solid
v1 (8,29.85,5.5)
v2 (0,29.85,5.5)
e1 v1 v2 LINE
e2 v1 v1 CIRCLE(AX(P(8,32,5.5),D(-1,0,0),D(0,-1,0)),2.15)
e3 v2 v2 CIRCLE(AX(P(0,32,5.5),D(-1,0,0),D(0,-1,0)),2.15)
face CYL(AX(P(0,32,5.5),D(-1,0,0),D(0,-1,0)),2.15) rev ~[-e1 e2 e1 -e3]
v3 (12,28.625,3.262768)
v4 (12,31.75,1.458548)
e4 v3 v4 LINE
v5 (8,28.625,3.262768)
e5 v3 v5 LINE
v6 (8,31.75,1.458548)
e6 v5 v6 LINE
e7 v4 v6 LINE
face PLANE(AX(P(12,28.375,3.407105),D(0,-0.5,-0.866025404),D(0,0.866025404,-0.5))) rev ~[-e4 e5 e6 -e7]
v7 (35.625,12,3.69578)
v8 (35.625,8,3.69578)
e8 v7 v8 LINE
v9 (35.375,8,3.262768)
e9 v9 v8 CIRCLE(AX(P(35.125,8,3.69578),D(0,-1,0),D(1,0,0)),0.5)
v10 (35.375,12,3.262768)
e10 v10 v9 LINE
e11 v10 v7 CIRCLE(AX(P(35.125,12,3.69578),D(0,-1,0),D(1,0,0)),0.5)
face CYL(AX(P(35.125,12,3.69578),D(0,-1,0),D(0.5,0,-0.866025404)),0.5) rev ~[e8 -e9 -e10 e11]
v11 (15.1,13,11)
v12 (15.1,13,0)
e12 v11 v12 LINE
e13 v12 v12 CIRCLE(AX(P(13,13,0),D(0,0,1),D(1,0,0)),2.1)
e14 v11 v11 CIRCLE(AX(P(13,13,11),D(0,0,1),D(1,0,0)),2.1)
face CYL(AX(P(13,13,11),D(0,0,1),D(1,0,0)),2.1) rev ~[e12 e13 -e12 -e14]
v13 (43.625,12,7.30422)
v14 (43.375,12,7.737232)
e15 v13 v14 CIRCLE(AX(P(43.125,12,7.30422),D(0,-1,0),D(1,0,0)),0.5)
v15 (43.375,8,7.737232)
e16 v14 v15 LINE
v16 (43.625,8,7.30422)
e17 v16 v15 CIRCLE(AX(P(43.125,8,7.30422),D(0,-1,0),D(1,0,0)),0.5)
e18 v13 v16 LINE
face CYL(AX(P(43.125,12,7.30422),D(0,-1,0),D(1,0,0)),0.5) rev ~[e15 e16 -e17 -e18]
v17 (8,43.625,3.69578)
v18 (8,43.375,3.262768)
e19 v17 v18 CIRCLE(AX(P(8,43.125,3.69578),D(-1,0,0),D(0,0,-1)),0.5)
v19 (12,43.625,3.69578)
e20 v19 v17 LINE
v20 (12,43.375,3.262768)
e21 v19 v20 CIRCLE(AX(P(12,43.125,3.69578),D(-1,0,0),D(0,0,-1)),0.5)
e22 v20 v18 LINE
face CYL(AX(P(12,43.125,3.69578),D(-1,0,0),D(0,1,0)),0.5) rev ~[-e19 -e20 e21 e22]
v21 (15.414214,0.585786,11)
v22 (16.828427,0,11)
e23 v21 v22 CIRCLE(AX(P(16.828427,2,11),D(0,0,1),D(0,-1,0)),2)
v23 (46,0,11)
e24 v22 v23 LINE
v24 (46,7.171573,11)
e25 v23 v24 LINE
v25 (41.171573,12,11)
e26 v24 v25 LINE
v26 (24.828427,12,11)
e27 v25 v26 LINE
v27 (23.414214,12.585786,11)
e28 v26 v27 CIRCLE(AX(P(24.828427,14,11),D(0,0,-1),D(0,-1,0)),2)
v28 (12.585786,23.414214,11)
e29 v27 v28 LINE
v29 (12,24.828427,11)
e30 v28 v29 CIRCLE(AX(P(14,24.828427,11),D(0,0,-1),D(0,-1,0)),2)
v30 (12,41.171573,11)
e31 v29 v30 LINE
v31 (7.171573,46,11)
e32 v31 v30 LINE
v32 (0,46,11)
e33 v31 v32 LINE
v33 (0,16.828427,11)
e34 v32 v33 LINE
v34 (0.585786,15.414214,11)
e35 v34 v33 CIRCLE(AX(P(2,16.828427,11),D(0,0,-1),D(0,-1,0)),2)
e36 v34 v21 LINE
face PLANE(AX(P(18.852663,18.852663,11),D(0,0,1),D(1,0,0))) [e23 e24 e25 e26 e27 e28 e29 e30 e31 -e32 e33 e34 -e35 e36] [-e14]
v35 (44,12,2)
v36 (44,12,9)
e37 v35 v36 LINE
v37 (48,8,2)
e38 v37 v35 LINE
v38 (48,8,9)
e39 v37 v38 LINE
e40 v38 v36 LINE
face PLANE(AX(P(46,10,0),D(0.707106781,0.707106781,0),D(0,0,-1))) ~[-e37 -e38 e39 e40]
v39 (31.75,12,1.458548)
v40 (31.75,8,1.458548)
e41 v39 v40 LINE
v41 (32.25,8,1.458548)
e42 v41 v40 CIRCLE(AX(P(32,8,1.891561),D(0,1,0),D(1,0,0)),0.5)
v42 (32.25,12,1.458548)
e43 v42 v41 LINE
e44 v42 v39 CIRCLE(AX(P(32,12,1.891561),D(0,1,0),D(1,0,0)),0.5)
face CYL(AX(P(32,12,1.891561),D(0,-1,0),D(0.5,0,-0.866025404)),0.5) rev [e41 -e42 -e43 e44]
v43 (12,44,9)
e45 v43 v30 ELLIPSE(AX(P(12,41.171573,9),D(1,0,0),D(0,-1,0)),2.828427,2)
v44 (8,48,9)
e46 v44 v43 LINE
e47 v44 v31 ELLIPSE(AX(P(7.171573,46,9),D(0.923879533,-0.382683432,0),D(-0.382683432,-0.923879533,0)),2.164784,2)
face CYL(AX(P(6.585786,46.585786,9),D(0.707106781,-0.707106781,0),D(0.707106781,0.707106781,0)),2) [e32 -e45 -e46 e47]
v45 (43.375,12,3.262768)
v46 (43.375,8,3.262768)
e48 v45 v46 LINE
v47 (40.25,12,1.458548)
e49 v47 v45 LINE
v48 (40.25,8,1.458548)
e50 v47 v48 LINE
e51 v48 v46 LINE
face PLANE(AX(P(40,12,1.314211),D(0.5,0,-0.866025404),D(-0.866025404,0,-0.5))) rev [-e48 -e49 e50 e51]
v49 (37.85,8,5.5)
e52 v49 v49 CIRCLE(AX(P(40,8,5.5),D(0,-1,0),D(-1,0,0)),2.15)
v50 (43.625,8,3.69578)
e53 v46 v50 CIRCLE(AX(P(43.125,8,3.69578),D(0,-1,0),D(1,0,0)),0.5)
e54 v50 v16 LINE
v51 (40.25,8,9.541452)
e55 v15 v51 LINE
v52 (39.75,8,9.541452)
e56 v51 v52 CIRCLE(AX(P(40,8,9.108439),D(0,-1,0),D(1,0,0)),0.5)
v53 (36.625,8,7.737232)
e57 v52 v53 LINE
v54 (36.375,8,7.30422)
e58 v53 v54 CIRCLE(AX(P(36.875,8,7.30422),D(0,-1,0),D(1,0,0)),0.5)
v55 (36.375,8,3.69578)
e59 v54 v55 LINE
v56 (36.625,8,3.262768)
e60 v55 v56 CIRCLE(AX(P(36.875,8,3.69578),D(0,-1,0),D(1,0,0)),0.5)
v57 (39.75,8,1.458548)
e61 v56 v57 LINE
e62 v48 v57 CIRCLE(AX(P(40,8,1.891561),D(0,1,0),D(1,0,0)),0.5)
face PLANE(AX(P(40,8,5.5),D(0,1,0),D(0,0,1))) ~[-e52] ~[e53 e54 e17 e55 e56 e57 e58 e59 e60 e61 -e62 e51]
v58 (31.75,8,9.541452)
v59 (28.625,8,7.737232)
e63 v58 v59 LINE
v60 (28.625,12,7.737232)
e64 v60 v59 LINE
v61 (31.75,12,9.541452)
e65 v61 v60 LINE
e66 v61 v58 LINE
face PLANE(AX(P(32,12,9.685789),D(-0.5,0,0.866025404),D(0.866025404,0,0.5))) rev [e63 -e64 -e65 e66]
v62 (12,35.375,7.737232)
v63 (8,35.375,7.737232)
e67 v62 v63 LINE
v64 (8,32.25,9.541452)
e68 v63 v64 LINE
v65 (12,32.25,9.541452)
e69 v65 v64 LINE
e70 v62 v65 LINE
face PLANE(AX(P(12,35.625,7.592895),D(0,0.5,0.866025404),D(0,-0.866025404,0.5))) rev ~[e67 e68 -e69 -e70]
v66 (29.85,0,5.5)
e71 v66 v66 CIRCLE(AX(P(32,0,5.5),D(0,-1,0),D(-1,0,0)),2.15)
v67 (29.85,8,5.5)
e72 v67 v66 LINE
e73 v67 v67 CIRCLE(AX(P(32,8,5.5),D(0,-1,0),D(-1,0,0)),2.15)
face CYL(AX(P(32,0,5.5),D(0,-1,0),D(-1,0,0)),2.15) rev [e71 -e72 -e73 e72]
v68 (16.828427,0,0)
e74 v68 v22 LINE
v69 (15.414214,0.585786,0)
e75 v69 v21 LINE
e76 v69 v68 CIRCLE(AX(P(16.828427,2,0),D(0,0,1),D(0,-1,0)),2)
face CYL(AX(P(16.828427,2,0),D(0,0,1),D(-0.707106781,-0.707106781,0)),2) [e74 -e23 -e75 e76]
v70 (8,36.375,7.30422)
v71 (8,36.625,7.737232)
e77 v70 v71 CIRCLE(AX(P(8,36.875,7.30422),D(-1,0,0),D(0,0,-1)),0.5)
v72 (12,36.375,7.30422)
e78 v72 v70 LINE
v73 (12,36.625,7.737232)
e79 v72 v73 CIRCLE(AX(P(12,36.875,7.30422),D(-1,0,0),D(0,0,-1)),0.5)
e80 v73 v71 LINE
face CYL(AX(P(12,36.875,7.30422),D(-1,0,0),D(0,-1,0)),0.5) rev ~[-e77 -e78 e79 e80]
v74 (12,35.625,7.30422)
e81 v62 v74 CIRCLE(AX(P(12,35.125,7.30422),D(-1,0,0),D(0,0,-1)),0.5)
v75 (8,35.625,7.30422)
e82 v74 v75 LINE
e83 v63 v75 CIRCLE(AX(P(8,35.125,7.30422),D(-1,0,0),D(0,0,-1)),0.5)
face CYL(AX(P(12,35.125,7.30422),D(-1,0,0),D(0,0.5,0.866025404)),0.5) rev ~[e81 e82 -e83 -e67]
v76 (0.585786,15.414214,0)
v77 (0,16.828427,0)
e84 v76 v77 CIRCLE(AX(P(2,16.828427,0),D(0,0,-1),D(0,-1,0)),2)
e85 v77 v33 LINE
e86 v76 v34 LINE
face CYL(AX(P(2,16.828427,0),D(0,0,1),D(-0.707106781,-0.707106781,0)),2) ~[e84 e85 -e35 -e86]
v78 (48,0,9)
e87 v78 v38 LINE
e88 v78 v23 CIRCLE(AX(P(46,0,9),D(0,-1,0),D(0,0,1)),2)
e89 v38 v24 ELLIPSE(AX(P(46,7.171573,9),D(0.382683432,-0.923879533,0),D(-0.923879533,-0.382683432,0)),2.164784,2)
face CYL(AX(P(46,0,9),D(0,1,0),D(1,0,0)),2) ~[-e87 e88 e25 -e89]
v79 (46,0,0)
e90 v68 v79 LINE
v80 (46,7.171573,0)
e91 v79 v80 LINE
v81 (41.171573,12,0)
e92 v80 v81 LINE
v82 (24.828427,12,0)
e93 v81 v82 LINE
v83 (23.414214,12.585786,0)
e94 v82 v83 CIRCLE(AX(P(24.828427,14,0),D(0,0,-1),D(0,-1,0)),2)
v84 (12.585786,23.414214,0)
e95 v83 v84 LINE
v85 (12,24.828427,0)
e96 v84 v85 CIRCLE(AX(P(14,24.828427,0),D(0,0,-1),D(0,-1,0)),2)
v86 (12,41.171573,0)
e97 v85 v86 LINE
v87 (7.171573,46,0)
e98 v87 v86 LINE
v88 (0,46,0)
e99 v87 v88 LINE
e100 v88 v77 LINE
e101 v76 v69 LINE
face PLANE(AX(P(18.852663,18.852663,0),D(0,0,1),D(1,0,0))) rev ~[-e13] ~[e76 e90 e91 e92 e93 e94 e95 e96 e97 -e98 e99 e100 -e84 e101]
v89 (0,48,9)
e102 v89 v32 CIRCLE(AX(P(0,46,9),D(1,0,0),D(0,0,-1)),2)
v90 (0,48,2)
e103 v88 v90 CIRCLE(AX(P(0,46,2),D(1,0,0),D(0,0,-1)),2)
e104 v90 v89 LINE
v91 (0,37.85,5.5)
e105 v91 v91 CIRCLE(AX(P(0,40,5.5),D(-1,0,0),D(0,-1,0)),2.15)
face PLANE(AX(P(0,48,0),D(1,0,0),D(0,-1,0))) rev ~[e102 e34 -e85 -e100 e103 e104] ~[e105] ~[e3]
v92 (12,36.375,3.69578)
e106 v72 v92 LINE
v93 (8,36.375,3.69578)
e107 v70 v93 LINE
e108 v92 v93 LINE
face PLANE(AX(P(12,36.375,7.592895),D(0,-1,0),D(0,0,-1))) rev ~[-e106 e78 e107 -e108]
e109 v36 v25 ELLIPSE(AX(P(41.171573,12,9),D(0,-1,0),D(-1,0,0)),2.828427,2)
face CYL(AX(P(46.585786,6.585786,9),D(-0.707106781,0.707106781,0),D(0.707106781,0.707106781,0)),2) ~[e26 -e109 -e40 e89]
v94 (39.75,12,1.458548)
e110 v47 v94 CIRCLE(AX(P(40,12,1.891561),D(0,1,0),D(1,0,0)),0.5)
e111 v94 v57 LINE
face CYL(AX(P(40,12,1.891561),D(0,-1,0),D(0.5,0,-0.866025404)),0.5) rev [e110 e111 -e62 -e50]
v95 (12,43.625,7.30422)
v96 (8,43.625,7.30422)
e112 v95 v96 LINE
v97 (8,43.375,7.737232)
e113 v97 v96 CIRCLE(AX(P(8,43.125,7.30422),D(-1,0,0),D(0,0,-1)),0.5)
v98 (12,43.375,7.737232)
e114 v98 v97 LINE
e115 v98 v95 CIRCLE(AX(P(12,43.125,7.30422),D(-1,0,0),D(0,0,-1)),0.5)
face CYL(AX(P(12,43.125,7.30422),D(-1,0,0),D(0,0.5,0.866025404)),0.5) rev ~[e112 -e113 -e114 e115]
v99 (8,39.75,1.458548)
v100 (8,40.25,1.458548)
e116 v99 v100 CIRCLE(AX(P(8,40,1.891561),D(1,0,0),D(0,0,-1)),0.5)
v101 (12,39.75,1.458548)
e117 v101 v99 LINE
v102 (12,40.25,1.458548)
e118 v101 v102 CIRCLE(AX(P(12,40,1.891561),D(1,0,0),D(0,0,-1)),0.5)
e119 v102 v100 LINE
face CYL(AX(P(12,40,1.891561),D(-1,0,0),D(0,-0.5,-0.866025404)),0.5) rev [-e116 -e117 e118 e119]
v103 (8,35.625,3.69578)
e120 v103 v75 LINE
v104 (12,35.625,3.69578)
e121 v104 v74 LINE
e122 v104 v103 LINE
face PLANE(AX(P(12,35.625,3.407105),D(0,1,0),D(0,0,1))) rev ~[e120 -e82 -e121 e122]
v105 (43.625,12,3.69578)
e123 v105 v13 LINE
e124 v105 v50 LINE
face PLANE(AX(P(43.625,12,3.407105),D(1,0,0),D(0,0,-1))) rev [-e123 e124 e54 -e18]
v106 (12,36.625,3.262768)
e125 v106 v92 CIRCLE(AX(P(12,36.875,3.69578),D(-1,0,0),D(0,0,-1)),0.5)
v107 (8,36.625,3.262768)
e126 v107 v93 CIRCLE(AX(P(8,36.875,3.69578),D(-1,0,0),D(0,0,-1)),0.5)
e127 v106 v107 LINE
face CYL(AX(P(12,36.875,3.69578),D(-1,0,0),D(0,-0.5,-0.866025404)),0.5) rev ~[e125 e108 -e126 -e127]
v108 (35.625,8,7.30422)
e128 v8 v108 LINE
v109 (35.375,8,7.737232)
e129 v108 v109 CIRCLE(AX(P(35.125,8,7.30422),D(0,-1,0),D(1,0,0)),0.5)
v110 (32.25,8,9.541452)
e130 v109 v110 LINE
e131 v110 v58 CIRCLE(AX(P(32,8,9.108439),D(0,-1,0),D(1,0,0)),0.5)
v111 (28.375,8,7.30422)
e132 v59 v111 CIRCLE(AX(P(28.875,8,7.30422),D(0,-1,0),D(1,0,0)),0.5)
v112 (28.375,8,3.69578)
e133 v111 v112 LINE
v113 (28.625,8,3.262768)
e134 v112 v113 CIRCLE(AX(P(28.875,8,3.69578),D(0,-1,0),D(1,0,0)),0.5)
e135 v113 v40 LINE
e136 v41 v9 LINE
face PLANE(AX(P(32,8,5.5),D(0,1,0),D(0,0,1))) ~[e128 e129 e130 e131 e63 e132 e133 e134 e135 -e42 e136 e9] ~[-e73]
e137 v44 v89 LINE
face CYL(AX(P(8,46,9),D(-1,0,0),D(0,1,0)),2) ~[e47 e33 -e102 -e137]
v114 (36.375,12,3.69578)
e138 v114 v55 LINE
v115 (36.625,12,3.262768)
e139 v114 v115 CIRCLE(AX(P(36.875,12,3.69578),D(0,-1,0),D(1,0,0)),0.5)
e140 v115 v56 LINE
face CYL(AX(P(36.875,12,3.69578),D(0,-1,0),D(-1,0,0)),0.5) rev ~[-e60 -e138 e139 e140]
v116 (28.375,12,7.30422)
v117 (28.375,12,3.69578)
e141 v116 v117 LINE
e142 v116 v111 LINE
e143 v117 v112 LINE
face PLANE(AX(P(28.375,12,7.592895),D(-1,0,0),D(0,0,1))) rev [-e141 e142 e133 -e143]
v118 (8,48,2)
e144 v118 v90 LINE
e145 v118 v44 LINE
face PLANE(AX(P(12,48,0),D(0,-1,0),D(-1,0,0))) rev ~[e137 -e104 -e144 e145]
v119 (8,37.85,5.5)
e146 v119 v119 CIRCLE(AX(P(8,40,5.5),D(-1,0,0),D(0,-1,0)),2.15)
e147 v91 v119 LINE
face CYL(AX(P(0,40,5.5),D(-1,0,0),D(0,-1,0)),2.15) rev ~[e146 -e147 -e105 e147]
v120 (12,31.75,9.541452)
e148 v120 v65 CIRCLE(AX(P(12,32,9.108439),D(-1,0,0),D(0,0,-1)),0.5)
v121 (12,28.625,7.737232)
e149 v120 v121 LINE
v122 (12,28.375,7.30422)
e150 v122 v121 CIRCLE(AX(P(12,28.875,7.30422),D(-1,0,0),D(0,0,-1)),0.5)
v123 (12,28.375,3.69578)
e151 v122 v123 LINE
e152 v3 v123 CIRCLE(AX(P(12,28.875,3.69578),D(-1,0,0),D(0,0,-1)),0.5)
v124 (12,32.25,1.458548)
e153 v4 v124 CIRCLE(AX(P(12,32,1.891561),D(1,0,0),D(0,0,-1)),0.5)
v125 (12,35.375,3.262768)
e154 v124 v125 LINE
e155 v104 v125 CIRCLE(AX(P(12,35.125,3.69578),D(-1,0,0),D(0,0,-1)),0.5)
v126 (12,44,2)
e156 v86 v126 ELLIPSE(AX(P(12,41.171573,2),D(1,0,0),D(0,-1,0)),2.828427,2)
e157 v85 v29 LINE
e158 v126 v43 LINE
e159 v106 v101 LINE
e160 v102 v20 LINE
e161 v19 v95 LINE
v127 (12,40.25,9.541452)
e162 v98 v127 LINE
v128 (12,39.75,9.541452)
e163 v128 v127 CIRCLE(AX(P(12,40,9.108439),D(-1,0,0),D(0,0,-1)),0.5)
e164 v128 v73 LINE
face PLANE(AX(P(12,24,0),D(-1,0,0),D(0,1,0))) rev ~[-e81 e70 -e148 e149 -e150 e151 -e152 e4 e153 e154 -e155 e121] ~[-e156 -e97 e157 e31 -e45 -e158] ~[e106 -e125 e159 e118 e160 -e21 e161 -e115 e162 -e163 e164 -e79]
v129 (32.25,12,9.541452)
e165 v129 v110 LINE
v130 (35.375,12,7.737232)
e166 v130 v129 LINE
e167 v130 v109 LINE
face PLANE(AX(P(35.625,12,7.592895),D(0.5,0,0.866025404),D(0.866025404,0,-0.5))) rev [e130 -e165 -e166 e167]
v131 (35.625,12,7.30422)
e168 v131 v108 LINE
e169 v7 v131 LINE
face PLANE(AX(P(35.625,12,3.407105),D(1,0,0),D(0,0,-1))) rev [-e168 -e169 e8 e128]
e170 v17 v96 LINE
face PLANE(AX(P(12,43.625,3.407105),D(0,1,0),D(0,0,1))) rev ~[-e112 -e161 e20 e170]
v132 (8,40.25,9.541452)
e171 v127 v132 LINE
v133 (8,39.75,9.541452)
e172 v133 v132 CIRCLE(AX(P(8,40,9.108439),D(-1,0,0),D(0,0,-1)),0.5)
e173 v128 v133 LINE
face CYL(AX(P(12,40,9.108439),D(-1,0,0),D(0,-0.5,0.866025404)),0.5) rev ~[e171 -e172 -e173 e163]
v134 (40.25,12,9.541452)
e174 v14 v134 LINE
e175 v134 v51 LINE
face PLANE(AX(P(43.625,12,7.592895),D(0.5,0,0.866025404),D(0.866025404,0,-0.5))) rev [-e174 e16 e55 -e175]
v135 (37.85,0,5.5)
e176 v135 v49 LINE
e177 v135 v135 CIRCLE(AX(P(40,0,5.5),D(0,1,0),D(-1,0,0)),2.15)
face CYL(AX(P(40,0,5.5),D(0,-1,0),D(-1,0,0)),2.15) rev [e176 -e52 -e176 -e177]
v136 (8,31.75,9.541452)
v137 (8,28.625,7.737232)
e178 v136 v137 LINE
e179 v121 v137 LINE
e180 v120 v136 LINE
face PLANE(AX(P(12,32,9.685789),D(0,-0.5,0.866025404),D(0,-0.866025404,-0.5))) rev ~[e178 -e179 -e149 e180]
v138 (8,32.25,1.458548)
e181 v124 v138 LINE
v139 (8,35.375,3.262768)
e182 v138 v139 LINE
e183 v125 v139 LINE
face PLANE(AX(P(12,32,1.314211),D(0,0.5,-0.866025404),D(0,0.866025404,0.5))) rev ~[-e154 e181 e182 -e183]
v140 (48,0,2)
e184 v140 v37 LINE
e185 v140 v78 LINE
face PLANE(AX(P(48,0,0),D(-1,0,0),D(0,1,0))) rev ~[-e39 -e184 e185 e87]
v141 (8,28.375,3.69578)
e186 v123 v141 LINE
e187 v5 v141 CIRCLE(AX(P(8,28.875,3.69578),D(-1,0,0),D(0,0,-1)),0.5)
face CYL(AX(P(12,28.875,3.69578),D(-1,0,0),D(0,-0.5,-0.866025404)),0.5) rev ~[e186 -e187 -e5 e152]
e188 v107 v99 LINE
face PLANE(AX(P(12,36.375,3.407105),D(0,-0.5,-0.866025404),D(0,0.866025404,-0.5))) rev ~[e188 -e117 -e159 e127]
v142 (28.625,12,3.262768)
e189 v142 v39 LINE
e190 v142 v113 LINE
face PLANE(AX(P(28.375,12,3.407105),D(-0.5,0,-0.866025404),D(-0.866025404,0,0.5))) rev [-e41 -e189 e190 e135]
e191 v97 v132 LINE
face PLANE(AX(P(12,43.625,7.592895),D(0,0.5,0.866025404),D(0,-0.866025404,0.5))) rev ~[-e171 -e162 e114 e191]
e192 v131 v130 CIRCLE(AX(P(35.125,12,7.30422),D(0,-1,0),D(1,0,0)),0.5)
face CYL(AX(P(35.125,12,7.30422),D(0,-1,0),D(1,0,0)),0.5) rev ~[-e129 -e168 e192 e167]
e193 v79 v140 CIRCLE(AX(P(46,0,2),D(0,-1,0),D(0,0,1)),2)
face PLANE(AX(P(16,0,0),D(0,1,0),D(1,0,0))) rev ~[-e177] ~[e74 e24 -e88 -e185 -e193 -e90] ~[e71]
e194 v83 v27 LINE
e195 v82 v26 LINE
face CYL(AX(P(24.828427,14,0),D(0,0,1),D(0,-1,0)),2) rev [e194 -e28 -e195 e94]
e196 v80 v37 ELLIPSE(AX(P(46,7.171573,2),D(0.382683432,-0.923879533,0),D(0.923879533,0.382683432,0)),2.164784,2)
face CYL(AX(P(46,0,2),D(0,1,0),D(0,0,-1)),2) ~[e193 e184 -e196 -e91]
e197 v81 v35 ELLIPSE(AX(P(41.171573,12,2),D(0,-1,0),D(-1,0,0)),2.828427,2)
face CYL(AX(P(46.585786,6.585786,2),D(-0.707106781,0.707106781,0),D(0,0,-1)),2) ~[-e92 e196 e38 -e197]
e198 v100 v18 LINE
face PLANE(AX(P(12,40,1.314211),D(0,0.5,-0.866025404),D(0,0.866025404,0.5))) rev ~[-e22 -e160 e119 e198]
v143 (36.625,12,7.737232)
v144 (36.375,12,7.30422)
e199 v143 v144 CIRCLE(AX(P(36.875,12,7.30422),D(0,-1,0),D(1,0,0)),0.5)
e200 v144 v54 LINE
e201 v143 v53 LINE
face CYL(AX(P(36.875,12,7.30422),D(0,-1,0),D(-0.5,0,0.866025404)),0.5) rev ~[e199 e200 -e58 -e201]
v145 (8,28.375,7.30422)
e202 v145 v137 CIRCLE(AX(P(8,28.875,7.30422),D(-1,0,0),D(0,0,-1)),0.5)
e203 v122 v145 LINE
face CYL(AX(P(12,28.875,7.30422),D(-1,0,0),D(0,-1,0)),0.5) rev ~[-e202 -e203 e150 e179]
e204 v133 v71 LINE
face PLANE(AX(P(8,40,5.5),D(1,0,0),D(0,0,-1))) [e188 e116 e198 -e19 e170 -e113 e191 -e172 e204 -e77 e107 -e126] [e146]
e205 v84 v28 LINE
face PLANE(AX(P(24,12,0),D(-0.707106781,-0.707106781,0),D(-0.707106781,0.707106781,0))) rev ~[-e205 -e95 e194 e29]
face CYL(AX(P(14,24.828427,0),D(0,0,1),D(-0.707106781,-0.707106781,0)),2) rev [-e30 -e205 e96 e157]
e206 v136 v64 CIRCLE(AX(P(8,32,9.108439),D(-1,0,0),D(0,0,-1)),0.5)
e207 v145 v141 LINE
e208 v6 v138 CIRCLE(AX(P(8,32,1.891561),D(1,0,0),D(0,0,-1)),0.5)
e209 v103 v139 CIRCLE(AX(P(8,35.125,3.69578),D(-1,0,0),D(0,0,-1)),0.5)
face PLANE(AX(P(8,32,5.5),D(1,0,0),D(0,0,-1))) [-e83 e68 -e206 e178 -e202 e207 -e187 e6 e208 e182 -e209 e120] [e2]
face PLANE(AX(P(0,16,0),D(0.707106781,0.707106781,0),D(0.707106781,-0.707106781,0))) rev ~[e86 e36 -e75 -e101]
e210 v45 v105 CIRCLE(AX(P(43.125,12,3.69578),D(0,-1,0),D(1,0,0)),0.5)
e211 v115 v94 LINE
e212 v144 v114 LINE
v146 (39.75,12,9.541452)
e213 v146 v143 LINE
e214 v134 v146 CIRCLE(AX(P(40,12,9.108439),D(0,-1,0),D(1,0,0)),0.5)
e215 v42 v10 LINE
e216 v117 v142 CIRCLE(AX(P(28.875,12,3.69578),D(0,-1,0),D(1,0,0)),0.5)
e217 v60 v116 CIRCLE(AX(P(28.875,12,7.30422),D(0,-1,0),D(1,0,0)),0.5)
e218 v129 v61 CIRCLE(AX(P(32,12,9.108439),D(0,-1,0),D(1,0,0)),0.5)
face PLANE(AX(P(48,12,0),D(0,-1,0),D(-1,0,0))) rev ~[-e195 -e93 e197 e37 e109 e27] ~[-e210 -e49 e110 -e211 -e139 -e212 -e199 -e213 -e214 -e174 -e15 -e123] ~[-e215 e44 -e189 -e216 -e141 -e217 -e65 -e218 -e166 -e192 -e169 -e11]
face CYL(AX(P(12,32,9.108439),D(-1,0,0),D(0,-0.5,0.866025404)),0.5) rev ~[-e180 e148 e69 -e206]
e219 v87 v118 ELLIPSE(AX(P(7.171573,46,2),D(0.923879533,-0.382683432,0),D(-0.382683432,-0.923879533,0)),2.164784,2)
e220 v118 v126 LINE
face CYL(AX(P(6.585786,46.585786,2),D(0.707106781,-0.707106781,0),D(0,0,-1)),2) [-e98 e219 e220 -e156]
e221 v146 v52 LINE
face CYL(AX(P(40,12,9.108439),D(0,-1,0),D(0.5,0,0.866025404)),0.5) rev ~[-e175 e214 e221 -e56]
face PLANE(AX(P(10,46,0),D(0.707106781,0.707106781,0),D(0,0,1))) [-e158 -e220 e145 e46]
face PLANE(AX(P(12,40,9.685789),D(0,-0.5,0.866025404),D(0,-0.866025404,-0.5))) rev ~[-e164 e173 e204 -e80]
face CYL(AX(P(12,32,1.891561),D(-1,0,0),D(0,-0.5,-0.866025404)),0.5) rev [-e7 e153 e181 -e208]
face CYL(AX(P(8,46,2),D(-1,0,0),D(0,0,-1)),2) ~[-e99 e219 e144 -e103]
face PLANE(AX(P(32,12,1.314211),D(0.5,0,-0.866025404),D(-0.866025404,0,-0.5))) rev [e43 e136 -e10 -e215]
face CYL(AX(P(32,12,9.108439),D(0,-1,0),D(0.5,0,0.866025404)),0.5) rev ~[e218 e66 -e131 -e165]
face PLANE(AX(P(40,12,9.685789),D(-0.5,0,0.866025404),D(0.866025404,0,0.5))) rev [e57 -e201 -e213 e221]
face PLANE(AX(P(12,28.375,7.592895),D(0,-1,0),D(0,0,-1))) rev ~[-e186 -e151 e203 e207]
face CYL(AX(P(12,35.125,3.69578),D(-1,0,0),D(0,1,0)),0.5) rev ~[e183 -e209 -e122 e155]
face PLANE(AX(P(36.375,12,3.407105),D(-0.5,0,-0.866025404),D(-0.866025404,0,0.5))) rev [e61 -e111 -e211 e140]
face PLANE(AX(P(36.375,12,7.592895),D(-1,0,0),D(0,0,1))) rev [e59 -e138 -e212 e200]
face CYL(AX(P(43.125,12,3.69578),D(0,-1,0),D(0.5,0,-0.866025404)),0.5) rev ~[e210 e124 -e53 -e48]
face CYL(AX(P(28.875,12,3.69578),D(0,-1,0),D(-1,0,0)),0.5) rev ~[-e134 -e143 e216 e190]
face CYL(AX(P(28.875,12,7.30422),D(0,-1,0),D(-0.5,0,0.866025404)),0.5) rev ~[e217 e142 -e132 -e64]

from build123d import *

# Parameters (mm, degrees)
EXTRUDE_1_DEPTH     = 11
SKETCH_2_R          = 2.15
CUT_EXTRUDE_1_DEPTH = 69.767724988
CUT_EXTRUDE_2_DEPTH = 4
FILLET_1_R          = 2
CHAMFER_1_SIZE      = 4
FILLET_2_R          = 2
FILLET_3_R          = 0.5
SKETCH_4_R          = 2.1
CUT_EXTRUDE_3_DEPTH = 69.767724988


with BuildPart() as part:
    # 草图1 → 凸台-拉伸1 (new body)
    with BuildSketch(Plane.XY):
        Polygon((0, 16), (16, 0), (48, 0), (48, 12), (24, 12), (12, 24), (12, 48), (0, 48), align=None)
    extrude(amount=EXTRUDE_1_DEPTH)

    # 草图2 → 切除-拉伸1 (cut, symmetric)
    with BuildSketch(Plane.ZY):
        with Locations(Location((5.5, 40, 0), (0, 0, 270))):
            Circle(SKETCH_2_R)
        with Locations(Location((5.5, 32, 0), (0, 0, 270))):
            Circle(SKETCH_2_R)
    cut_extrude_1 = extrude(amount=CUT_EXTRUDE_1_DEPTH, both=True, mode=Mode.SUBTRACT)

    # 草图3 → 切除-拉伸2 (cut)
    with BuildSketch(Plane(origin=(12, 0, 0), x_dir=(0, 0, -1), z_dir=(1, 0, 0))):
        Polygon((-1.314210548, 40), (-3.407105274, 43.625), (-7.592894726, 43.625), (-9.685789452, 40), (-7.592894726, 36.375), (-3.407105274, 36.375), align=None)
        Polygon((-1.314210548, 32), (-3.407105274, 35.625), (-7.592894726, 35.625), (-9.685789452, 32), (-7.592894726, 28.375), (-3.407105274, 28.375), align=None)
    cut_extrude_2 = extrude(amount=-CUT_EXTRUDE_2_DEPTH, mode=Mode.SUBTRACT)

    # 镜向1: 切除-拉伸1, 切除-拉伸2 across plane
    add(cut_extrude_1.mirror(Plane(origin=(0, 0, 0), x_dir=(0, 0, 1), z_dir=(-0.7071067811865475, 0.7071067811865476, 0))), mode=Mode.SUBTRACT)
    add(cut_extrude_2.mirror(Plane(origin=(0, 0, 0), x_dir=(0, 0, 1), z_dir=(-0.7071067811865475, 0.7071067811865476, 0))), mode=Mode.SUBTRACT)

    # 圆角1
    fillet_1_edges = [part.edges().sort_by_distance(p)[0] for p in [
        (12, 24, 5.5),
        (24, 12, 5.5),
        (16, 0, 5.5),
        (0, 16, 5.5),
    ]]
    fillet(fillet_1_edges, radius=FILLET_1_R)

    # 倒角1
    chamfer_1_edges = [part.edges().sort_by_distance(p)[0] for p in [
        (12, 48, 5.5),
        (48, 12, 5.5),
    ]]
    chamfer(chamfer_1_edges, length=CHAMFER_1_SIZE)

    # 圆角2
    fillet_2_edges = [part.edges().sort_by_distance(p)[0] for p in [
        (48, 4, 0),
        (4, 48, 0),
        (10, 46, 0),
        (46, 10, 0),
        (4, 48, 11),
        (10, 46, 11),
        (46, 10, 11),
        (48, 4, 11),
    ]]
    fillet(fillet_2_edges, radius=FILLET_2_R)

    # 圆角3
    fillet_3_edges = [part.edges().sort_by_distance(p)[0] for p in [
        (28.375, 10, 3.407105274),
        (32, 10, 1.314210548),
        (35.625, 10, 3.407105274),
        (35.625, 10, 7.592894726),
        (32, 10, 9.685789452),
        (28.375, 10, 7.592894726),
        (10, 40, 1.314210548),
        (10, 36.375, 3.407105274),
        (10, 36.375, 7.592894726),
        (10, 40, 9.685789452),
        (10, 43.625, 7.592894726),
        (10, 43.625, 3.407105274),
        (10, 32, 1.314210548),
        (10, 28.375, 3.407105274),
        (10, 28.375, 7.592894726),
        (10, 32, 9.685789452),
        (10, 35.625, 7.592894726),
        (10, 35.625, 3.407105274),
        (36.375, 10, 3.407105274),
        (40, 10, 1.314210548),
        (43.625, 10, 3.407105274),
        (43.625, 10, 7.592894726),
        (40, 10, 9.685789452),
        (36.375, 10, 7.592894726),
    ]]
    fillet(fillet_3_edges, radius=FILLET_3_R)

    # 草图4 → 切除-拉伸3 (cut, through all)
    with BuildSketch(Plane.XY.offset(11)):
        with Locations((13, 13)):
            Circle(SKETCH_4_R)
    extrude(amount=-CUT_EXTRUDE_3_DEPTH, mode=Mode.SUBTRACT)


solid = part.part
